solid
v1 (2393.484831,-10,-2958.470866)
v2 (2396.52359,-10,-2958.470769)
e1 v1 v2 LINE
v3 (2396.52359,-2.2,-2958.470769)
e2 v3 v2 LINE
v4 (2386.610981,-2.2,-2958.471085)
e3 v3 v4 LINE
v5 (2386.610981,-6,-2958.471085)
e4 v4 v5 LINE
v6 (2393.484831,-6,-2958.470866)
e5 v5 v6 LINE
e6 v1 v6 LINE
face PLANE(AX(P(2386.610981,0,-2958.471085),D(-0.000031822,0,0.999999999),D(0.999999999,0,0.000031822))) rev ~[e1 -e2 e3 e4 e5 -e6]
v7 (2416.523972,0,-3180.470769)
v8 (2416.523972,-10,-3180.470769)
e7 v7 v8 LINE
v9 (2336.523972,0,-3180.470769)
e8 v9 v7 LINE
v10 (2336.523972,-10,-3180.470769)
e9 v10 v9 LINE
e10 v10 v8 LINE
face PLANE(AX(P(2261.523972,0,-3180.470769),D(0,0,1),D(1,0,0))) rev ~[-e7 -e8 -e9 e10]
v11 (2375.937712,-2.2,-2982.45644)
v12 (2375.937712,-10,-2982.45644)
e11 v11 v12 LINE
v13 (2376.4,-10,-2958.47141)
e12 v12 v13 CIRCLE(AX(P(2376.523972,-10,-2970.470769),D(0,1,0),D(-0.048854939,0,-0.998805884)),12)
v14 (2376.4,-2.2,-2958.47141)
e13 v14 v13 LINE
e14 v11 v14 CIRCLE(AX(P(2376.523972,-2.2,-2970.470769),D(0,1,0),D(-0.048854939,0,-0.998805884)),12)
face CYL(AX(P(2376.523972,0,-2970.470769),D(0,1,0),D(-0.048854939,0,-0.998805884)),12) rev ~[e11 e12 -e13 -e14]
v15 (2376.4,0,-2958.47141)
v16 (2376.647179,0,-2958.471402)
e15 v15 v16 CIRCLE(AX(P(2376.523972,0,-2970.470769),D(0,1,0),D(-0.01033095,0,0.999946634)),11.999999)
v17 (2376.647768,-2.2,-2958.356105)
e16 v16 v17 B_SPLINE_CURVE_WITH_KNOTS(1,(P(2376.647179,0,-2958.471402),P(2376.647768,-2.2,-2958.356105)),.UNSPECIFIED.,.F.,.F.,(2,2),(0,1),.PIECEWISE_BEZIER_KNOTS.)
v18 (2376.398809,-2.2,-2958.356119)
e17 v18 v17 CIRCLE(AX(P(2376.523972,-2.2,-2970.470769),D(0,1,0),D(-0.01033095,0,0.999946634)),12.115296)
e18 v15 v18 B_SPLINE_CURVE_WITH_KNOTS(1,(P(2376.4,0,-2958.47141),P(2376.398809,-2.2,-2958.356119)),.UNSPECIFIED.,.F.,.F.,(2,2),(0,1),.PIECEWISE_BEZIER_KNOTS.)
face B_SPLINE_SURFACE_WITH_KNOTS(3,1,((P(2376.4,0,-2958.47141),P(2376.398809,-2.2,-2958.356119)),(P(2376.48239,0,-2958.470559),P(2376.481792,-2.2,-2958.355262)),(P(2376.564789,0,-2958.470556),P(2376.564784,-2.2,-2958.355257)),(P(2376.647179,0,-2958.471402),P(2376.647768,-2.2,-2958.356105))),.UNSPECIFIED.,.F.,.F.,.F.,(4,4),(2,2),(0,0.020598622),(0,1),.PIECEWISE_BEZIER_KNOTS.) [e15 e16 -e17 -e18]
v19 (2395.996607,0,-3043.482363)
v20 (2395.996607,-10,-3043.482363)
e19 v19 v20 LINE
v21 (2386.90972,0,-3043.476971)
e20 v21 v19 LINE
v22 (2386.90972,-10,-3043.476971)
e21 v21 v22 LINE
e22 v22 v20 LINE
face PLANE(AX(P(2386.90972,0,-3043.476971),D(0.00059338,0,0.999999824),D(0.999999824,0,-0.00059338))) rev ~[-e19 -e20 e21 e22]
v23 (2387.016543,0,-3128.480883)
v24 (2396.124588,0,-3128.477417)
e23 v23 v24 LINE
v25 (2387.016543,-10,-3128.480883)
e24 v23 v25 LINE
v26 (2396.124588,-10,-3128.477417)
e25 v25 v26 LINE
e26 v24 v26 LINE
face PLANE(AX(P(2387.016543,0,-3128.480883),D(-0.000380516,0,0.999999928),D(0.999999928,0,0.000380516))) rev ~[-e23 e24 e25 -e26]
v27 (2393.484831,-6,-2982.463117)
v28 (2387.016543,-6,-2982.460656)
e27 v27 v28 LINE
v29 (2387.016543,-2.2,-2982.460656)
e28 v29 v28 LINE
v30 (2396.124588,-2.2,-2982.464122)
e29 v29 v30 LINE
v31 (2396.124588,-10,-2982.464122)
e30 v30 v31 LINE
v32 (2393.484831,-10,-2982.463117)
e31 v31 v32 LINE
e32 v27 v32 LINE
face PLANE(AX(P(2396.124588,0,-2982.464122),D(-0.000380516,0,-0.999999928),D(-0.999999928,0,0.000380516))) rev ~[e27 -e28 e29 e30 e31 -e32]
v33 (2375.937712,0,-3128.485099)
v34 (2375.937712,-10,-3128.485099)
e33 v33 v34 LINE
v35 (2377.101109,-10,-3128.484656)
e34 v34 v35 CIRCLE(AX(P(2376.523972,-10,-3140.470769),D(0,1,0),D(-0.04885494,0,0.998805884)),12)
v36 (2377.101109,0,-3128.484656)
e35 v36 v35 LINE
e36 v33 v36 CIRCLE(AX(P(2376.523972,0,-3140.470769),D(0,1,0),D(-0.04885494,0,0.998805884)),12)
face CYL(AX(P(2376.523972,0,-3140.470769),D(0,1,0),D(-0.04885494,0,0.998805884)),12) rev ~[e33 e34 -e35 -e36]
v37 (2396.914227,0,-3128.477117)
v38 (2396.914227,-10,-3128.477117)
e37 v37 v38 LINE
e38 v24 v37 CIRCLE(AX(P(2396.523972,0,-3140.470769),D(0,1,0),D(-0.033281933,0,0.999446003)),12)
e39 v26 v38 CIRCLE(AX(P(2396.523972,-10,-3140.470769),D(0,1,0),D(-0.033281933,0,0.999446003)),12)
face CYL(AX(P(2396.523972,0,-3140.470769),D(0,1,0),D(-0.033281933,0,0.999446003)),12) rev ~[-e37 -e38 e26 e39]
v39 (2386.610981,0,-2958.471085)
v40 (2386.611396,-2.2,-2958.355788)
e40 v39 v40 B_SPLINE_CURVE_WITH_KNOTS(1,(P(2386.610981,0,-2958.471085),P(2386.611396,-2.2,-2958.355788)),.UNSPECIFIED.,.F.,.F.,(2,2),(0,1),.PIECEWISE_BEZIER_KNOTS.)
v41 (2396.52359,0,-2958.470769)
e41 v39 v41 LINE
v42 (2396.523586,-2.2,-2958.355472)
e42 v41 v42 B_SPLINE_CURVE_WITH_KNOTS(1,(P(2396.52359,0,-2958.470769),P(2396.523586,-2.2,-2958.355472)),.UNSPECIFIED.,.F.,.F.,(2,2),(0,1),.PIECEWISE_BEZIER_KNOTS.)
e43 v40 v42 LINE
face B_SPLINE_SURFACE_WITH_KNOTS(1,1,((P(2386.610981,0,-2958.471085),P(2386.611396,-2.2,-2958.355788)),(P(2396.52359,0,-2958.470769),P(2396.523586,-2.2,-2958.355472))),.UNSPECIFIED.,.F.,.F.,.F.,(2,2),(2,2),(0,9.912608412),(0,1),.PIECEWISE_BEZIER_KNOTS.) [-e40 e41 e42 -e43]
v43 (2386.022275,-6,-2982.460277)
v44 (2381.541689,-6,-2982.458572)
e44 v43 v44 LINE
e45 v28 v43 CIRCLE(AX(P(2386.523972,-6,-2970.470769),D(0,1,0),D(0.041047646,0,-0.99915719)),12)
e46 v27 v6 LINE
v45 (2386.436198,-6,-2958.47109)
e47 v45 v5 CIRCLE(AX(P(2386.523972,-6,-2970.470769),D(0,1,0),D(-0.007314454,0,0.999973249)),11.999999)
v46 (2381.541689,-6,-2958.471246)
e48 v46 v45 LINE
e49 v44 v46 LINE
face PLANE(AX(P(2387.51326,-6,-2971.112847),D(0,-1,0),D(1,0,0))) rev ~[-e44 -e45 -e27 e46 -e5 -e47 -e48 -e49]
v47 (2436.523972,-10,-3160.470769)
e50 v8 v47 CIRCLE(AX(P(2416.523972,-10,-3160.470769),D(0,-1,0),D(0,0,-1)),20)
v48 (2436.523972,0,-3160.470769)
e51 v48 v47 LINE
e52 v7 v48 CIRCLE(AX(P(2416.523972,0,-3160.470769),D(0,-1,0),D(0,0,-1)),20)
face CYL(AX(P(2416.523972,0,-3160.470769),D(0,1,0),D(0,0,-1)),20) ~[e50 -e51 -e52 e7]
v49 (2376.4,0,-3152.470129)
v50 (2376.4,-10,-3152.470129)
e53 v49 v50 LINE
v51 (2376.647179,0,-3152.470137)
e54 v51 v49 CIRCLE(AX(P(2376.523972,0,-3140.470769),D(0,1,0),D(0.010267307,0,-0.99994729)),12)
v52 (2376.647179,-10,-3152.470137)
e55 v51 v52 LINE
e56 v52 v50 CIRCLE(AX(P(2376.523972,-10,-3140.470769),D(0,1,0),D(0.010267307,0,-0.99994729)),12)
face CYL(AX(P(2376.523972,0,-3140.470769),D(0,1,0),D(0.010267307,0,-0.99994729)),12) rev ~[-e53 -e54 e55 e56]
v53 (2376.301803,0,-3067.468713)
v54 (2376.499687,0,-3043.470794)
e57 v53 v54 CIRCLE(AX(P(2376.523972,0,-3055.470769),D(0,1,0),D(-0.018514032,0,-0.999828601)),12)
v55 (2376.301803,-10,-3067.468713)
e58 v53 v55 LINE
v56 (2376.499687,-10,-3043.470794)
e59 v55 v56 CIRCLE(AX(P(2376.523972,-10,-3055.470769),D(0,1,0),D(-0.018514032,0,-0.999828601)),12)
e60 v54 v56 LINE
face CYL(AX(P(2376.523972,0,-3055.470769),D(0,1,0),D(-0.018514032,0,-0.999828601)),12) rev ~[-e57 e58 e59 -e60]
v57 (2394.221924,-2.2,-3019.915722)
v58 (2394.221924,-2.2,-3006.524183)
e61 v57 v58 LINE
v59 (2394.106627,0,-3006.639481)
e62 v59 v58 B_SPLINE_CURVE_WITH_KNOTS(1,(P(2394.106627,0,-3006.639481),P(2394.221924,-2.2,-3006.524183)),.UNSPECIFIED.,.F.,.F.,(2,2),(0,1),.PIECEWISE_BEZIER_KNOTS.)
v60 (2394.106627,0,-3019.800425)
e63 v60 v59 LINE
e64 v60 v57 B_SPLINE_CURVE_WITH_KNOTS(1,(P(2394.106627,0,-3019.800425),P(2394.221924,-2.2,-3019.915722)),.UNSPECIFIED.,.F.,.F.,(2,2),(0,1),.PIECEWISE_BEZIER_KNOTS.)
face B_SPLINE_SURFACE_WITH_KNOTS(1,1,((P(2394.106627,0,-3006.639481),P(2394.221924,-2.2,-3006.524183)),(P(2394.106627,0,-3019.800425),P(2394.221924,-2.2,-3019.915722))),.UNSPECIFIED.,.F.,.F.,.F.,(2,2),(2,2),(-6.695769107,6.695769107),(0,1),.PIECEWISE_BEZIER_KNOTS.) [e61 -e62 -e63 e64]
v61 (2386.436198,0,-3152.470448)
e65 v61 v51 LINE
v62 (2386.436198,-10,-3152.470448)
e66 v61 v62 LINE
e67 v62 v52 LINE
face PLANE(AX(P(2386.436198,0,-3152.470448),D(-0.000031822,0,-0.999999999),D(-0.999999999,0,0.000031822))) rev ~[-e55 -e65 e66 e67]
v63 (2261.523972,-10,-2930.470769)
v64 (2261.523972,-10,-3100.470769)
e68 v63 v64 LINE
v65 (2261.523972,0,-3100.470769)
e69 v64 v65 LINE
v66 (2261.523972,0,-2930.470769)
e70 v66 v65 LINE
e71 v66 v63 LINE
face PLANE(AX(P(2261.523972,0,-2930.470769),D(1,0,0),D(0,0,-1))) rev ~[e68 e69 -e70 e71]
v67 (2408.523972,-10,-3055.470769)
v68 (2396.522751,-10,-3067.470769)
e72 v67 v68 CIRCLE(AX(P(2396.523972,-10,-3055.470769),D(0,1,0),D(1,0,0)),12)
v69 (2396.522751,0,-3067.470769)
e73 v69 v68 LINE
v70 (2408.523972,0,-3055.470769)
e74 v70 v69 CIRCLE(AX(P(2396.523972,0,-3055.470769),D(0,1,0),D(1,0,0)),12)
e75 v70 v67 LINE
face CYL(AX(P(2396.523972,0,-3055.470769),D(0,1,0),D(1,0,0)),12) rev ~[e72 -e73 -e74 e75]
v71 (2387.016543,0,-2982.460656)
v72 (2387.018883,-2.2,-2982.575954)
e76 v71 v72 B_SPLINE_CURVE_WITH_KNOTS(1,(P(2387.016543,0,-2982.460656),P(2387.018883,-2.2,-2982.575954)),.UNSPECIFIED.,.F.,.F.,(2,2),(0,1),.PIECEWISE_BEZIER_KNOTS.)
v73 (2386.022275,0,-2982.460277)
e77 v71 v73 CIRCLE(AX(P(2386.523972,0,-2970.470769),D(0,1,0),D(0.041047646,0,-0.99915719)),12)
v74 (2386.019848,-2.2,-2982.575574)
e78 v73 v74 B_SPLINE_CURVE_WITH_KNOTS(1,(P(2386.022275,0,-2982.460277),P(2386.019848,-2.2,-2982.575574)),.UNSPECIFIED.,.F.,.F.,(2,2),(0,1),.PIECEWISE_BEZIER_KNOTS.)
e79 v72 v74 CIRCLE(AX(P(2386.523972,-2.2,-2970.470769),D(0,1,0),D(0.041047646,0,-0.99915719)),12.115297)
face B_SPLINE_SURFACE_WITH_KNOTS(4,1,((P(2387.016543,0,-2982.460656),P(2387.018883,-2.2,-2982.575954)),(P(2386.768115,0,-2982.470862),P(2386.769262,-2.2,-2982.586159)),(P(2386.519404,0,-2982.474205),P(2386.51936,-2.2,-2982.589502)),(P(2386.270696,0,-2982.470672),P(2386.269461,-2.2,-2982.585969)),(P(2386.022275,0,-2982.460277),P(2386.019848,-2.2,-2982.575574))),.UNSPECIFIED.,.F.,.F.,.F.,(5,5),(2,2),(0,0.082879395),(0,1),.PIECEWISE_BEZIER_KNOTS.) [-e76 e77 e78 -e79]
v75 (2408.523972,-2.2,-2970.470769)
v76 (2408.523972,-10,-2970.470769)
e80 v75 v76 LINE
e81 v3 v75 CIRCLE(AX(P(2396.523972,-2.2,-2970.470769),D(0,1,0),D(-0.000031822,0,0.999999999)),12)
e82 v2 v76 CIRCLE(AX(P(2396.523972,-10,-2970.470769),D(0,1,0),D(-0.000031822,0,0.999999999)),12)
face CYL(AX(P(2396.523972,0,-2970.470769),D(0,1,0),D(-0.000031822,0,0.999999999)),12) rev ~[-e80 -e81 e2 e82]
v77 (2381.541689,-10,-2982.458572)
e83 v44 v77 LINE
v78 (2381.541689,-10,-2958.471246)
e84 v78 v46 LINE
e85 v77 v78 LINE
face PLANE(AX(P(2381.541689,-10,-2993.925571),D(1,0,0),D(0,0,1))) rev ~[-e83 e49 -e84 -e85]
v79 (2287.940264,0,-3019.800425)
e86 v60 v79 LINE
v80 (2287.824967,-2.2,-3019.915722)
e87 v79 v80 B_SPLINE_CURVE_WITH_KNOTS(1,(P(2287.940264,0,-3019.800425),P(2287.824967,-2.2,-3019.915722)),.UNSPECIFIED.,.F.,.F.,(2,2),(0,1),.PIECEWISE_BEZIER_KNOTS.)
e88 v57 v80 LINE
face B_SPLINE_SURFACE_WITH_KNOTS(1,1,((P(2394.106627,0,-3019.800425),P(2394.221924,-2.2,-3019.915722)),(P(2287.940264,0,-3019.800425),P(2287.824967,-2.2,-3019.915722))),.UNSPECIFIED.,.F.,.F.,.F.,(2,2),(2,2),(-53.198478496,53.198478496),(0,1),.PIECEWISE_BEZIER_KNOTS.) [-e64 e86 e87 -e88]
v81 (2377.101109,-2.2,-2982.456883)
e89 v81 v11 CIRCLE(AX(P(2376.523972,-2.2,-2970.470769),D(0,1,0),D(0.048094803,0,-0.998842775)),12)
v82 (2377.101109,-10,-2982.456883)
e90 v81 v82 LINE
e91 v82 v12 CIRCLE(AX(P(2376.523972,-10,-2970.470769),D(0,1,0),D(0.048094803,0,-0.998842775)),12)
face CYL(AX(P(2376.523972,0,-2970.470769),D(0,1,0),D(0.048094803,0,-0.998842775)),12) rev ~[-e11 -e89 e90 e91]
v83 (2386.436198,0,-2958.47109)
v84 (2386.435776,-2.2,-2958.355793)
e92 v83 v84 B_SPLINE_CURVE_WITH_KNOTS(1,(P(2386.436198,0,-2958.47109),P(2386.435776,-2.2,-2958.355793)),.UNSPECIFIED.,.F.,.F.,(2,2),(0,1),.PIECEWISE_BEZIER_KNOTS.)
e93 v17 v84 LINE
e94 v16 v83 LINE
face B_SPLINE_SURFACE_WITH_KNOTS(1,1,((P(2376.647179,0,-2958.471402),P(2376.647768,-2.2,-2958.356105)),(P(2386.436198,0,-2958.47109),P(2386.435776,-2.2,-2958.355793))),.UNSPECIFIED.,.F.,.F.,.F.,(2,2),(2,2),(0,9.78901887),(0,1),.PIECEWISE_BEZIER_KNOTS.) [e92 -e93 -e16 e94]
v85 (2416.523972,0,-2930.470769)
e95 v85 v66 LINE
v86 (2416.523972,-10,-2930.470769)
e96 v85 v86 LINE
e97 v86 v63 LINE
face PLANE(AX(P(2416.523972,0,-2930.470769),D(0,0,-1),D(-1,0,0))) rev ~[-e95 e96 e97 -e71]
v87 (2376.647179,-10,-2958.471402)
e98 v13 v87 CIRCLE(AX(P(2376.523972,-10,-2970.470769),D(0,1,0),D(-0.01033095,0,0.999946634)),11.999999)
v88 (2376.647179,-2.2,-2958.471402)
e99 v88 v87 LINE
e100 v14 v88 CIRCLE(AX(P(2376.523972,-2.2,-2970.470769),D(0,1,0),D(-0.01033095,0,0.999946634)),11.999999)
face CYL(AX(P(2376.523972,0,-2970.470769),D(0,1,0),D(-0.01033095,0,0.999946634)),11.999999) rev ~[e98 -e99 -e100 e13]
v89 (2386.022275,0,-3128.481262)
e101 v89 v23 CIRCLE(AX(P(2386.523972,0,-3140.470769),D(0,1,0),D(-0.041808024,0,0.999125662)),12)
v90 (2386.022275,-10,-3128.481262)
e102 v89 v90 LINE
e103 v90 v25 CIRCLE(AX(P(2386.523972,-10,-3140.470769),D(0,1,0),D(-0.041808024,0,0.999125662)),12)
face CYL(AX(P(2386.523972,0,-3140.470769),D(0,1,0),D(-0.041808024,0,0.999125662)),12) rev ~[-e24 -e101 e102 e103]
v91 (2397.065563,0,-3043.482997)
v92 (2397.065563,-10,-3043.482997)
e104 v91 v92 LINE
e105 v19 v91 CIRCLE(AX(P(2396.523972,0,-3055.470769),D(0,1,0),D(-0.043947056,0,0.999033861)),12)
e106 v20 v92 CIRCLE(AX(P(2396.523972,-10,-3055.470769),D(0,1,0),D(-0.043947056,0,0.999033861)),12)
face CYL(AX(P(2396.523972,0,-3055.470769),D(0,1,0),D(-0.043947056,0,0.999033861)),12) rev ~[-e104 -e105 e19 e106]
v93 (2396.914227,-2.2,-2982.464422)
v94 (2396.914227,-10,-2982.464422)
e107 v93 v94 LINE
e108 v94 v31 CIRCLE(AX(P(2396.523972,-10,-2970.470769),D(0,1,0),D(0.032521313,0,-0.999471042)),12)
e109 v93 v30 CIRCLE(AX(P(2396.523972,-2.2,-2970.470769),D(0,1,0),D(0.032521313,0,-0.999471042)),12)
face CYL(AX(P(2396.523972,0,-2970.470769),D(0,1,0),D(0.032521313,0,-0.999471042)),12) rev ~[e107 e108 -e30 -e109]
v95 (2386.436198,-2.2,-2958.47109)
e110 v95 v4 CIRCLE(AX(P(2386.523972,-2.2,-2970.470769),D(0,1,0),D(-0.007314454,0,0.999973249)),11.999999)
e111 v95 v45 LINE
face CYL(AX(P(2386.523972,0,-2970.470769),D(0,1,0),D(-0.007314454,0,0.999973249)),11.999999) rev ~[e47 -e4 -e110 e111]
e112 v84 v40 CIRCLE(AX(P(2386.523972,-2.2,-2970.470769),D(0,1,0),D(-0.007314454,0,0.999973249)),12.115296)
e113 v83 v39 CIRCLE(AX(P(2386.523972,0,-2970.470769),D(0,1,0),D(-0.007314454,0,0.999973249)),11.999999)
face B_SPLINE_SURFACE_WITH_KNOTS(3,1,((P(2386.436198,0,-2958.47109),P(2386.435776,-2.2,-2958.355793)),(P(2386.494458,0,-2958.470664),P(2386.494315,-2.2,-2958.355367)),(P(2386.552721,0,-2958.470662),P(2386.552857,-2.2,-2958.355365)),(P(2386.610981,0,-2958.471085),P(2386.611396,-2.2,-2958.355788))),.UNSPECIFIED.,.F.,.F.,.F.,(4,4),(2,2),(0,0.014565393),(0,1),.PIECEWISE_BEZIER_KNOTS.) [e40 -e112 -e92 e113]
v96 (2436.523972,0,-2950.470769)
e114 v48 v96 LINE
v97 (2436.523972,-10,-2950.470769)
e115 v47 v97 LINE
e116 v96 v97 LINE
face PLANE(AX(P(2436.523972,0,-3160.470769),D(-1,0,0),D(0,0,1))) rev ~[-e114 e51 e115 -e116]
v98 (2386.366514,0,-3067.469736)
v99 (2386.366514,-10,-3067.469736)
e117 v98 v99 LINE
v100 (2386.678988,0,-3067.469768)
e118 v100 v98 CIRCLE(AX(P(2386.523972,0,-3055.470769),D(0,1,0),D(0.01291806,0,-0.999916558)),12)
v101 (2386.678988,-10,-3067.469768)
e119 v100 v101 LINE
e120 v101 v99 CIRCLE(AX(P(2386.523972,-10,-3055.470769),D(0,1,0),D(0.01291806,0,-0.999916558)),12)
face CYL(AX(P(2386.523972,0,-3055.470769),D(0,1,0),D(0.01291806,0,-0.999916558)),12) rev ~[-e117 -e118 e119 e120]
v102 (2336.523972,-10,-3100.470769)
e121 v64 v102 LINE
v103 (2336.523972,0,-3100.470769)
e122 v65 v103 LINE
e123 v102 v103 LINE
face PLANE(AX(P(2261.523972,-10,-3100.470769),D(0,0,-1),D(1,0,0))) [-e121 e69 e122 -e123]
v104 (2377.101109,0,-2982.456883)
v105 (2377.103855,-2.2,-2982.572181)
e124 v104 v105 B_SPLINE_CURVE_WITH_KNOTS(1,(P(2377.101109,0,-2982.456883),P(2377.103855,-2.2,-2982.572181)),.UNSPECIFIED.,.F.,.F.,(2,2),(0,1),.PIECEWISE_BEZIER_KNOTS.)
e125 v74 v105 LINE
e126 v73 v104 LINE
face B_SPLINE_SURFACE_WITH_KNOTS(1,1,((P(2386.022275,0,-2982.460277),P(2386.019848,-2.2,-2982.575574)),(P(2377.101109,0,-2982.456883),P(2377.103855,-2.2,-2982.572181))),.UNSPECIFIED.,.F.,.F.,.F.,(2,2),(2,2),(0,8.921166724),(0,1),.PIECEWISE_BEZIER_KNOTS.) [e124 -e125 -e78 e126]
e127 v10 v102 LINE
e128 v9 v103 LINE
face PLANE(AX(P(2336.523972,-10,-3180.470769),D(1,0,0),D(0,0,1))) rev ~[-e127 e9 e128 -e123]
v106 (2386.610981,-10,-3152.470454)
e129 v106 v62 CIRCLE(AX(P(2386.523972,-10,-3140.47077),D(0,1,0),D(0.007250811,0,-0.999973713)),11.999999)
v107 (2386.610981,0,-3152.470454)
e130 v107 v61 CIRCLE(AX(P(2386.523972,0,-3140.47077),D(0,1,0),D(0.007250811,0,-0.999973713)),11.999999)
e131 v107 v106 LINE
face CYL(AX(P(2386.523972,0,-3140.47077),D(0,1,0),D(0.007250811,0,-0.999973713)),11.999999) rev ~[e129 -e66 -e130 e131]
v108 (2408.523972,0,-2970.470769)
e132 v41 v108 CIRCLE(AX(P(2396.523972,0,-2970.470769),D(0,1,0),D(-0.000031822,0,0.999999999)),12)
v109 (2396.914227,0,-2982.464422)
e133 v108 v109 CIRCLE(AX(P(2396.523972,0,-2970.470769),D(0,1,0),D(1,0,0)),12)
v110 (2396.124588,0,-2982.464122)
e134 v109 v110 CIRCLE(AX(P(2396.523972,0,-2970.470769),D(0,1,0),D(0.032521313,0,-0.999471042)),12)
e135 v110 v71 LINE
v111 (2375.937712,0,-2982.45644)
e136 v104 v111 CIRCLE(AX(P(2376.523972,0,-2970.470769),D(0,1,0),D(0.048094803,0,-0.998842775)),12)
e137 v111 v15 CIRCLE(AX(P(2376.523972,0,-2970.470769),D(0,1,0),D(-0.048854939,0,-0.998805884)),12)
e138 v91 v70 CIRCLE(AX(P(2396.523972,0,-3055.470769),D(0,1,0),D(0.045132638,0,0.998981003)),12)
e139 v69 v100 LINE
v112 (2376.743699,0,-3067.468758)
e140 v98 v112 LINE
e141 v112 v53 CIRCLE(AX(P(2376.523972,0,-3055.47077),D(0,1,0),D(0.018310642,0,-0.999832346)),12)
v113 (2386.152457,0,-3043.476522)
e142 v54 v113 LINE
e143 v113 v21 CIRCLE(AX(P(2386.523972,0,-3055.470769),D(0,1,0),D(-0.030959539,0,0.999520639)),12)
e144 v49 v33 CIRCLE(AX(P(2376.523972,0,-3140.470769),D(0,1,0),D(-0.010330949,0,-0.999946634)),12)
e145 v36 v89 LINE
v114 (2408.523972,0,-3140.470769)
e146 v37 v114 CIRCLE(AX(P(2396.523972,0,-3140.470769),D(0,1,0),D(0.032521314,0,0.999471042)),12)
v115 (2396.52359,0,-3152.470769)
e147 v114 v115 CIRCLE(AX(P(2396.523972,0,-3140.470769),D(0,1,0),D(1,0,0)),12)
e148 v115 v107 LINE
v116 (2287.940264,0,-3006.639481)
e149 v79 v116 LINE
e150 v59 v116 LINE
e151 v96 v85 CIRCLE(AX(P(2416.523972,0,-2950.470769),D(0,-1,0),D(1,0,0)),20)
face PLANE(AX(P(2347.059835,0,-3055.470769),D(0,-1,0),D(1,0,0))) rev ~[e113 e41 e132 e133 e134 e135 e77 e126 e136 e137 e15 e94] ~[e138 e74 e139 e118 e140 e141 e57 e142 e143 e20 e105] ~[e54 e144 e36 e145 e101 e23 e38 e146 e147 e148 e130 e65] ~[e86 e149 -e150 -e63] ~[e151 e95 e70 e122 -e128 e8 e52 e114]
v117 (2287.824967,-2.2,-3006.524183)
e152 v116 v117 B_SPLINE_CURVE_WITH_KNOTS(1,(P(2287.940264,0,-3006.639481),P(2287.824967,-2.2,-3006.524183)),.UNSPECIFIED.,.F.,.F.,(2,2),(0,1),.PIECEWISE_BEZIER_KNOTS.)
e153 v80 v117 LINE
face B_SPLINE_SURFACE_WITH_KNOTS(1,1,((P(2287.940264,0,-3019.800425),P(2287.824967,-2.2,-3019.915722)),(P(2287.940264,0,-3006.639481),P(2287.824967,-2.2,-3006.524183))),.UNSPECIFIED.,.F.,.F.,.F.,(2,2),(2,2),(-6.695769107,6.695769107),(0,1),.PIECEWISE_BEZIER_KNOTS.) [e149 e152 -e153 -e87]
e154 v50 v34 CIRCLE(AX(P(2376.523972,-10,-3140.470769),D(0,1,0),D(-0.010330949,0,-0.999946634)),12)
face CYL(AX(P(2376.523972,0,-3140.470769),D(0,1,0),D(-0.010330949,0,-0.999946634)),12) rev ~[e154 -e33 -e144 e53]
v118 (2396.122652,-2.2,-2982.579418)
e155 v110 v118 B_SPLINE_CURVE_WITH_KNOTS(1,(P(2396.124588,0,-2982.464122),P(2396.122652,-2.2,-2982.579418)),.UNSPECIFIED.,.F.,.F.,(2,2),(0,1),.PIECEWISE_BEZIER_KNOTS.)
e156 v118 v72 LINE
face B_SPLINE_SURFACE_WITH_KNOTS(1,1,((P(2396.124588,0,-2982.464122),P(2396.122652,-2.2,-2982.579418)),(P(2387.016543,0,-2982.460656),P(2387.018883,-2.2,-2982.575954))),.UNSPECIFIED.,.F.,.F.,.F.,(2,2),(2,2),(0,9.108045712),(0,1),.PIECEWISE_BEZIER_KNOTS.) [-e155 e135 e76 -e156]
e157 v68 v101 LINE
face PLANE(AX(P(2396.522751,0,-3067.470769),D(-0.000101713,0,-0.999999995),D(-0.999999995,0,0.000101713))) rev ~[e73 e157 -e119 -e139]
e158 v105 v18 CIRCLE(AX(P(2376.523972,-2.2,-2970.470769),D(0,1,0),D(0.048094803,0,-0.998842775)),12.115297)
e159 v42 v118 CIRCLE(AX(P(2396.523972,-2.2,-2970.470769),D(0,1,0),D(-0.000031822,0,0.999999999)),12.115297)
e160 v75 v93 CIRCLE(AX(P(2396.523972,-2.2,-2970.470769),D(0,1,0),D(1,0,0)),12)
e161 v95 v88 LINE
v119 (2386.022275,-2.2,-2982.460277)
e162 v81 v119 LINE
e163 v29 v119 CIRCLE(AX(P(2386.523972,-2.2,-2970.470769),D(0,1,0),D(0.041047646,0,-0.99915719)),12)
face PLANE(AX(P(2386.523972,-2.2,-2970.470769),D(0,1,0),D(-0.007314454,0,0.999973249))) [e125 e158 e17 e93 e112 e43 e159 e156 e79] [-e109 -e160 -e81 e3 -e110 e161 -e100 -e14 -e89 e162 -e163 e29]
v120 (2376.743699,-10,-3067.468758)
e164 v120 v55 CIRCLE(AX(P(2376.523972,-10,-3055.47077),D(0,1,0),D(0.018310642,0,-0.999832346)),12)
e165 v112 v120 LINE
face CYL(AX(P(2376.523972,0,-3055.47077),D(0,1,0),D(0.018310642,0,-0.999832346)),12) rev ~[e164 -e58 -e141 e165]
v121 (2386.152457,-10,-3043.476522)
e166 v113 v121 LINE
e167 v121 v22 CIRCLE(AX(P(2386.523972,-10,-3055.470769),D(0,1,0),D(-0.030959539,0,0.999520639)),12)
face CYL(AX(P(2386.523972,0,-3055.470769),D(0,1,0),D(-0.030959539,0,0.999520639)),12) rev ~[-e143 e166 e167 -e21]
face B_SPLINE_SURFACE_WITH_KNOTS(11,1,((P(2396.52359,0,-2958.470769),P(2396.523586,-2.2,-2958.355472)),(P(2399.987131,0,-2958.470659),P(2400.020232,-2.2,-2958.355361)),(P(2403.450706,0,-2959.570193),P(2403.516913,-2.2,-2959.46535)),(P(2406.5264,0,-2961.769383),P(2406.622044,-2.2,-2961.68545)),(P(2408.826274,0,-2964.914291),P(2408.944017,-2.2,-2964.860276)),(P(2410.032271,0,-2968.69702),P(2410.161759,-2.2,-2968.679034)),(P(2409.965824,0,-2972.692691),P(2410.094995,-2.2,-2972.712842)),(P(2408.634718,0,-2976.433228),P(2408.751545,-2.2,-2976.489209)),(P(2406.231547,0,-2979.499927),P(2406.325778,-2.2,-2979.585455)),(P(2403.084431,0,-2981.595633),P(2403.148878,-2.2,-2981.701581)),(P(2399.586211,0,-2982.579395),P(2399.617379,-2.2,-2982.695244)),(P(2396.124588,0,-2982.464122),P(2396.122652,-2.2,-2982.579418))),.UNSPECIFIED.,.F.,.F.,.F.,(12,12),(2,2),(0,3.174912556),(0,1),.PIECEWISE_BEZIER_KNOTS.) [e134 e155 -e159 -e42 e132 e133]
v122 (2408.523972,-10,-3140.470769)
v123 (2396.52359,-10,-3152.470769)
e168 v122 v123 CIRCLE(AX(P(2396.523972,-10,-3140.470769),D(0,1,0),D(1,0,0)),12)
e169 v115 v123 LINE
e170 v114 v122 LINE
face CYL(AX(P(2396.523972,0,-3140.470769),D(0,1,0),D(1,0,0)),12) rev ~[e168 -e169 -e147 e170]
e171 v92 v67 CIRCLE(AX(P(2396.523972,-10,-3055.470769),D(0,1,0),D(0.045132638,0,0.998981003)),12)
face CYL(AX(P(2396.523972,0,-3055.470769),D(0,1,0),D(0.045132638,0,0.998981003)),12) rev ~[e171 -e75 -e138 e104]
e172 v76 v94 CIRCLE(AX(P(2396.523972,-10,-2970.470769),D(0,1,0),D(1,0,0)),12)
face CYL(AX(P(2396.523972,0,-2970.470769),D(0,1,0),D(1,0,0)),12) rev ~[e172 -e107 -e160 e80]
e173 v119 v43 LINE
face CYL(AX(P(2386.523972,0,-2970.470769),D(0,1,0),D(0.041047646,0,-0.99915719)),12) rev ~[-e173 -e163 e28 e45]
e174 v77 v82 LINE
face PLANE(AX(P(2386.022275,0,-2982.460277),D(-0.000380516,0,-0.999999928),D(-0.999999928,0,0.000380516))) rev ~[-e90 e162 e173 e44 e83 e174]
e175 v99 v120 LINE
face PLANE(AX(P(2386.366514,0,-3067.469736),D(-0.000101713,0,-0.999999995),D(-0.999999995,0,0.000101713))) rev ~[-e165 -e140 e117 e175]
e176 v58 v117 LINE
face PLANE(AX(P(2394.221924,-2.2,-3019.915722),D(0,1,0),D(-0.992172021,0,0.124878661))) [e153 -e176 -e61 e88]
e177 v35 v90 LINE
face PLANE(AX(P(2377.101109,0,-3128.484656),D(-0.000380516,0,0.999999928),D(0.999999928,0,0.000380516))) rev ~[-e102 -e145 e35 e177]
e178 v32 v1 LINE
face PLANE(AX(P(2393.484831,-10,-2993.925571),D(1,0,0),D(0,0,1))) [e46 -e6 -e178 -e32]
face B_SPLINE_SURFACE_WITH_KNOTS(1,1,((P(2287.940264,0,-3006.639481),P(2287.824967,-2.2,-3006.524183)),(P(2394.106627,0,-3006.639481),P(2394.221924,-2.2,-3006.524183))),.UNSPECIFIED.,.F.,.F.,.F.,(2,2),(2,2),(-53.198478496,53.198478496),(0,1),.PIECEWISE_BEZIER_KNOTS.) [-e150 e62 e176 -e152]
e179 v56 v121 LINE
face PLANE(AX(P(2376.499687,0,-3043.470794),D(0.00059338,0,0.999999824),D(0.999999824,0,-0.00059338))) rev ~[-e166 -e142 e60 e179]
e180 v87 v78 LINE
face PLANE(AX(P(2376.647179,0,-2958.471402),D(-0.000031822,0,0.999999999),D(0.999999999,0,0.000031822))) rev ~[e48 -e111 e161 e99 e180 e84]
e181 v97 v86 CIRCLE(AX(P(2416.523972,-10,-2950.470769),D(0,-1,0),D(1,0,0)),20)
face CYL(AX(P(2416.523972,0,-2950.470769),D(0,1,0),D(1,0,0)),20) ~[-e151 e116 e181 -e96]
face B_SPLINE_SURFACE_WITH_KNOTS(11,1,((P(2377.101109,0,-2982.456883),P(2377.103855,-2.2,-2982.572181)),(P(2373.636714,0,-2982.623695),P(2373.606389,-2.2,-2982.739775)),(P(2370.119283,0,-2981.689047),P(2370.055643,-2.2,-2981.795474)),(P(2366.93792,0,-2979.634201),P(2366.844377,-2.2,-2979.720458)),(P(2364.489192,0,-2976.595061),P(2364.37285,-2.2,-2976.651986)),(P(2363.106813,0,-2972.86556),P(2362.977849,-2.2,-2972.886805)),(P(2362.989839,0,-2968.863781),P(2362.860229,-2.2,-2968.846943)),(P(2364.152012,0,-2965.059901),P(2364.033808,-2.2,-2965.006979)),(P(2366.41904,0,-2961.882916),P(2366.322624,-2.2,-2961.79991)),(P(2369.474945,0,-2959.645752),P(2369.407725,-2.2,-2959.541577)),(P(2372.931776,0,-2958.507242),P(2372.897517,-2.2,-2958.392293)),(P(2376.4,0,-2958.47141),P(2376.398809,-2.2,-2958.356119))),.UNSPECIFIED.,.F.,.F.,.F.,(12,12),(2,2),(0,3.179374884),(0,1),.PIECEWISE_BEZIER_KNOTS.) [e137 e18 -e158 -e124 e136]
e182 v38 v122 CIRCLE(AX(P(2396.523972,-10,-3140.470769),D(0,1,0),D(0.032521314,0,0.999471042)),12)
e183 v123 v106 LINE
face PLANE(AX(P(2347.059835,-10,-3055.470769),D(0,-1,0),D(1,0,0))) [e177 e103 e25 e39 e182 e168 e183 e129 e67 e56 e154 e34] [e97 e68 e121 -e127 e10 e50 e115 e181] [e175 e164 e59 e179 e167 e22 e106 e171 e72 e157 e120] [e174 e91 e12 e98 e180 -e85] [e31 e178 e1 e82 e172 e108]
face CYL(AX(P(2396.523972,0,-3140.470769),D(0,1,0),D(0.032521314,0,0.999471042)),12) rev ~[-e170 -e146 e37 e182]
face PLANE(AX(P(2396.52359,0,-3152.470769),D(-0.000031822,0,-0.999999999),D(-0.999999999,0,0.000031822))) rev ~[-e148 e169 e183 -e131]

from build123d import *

# Parameters (mm, degrees)
F1_DEPTH = 10
F2_W     = 75
F2_H     = 80
F3_DEPTH = 25
F4_W     = 11.9431421733
F4_H     = 45.6254482269
F5_DEPTH = 4
F6_W     = 106.1663627625
F6_H     = 13.160943985
F7_DEPTH = 2.2
F7_TAPER = -3


with BuildPart() as f1:
    # F0 (on Front) → F1 (new body)
    with BuildSketch(Plane.XZ):
        with BuildLine():
            Line((2416.5239715576, -2930.4707694799), (2261.5239715576, -2930.4707694799))
            Line((2261.5239715576, -2930.4707694799), (2261.5239715576, -3180.4707694799))
            Line((2261.5239715576, -3180.4707694799), (2416.5239715576, -3180.4707694799))
            ThreePointArc((2416.5239715576, -3180.4707694799), (2430.6661071813, -3174.6129051036), (2436.5239715576, -3160.4707694799))
            Line((2436.5239715576, -3160.4707694799), (2436.5239715576, -2950.4707694799))
            ThreePointArc((2436.5239715576, -2950.4707694799), (2430.6661071813, -2936.3286338561), (2416.5239715576, -2930.4707694799))
        make_face()
        with BuildLine():
            ThreePointArc((2386.0222752693, -3128.4812615319), (2386.5194053701, -3128.4707703486), (2387.0165433111, -3128.4808831974))
            Line((2387.0165433111, -3128.4808831974), (2396.1245883641, -3128.4774174437))
            ThreePointArc((2396.1245883641, -3128.4774174437), (2396.5194053701, -3128.4707703486), (2396.9142273205, -3128.4771169737))
            ThreePointArc((2396.9142273205, -3128.4771169737), (2405.1461252664, -3132.1246047665), (2408.5239715576, -3140.4707694799))
            ThreePointArc((2408.5239715576, -3140.4707694799), (2405.0091179195, -3148.9561858643), (2396.5235896881, -3152.4707694738))
            Line((2396.5235896881, -3152.4707694738), (2386.6109812809, -3152.4704540302))
            ThreePointArc((2386.6109812809, -3152.4704540302), (2386.5235896881, -3152.4707694738), (2386.4361981155, -3152.4704484682))
            Line((2386.4361981155, -3152.4704484682), (2376.6471792504, -3152.4701369576))
            ThreePointArc((2376.6471792504, -3152.4701369576), (2376.5235896881, -3152.4707694738), (2376.4000001663, -3152.4701290917))
            ThreePointArc((2376.4000001663, -3152.4701290917), (2364.5261998632, -3140.7020147361), (2375.9377122847, -3128.485098866))
            ThreePointArc((2375.9377122847, -3128.485098866), (2376.5194053701, -3128.4707703486), (2377.1011091915, -3128.4846561752))
            Line((2377.1011091915, -3128.4846561752), (2386.0222752693, -3128.4812615319))
        make_face(mode=Mode.SUBTRACT)
        with BuildLine():
            ThreePointArc((2386.1524570887, -3043.476521817), (2386.5310921212, -3043.4707715925), (2386.9097200631, -3043.476971162))
            Line((2386.9097200631, -3043.476971162), (2395.9966068909, -3043.4823631426))
            ThreePointArc((2395.9966068909, -3043.4823631426), (2396.5310921212, -3043.4707715925), (2397.0655632188, -3043.4829974403))
            ThreePointArc((2397.0655632188, -3043.4829974403), (2405.1986214046, -3047.179180366), (2408.5239715576, -3055.4707694799))
            ThreePointArc((2408.5239715576, -3055.4707694799), (2405.0088213897, -3063.9564823743), (2396.5227510032, -3067.4707694178))
            Line((2396.5227510032, -3067.4707694178), (2386.678988276, -3067.4697681805))
            ThreePointArc((2386.678988276, -3067.4697681805), (2386.5227510032, -3067.4707694178), (2386.3665139374, -3067.4697363978))
            Line((2386.3665139374, -3067.4697363978), (2376.7436992517, -3067.4687576337))
            ThreePointArc((2376.7436992517, -3067.4687576337), (2376.5227510032, -3067.4707694178), (2376.3018031686, -3067.4687126872))
            ThreePointArc((2376.3018031686, -3067.4687126872), (2364.5243795036, -3055.3718223336), (2376.4996870262, -3043.4707940523))
            Line((2376.4996870262, -3043.4707940523), (2386.1524570887, -3043.476521817))
        make_face(mode=Mode.SUBTRACT)
        with BuildLine():
            ThreePointArc((2386.4361981157, -2958.4710904915), (2386.5235896881, -2958.4707694859), (2386.6109812808, -2958.4710849295))
            Line((2386.6109812808, -2958.4710849295), (2396.5235896881, -2958.4707694859))
            ThreePointArc((2396.5235896881, -2958.4707694859), (2405.0091179195, -2961.9853530954), (2408.5239715576, -2970.4707694799))
            ThreePointArc((2408.5239715576, -2970.4707694799), (2405.1461252664, -2978.8169341932), (2396.9142273205, -2982.4644219861))
            ThreePointArc((2396.9142273205, -2982.4644219861), (2396.5194053701, -2982.4707686111), (2396.1245883641, -2982.4641215161))
            Line((2396.1245883641, -2982.4641215161), (2387.0165433111, -2982.4606557624))
            ThreePointArc((2387.0165433111, -2982.4606557624), (2386.5194053701, -2982.4707686111), (2386.0222752693, -2982.4602774278))
            Line((2386.0222752693, -2982.4602774278), (2377.1011091916, -2982.4568827845))
            ThreePointArc((2377.1011091916, -2982.4568827845), (2376.5194053701, -2982.4707686111), (2375.9377122847, -2982.4564400938))
            ThreePointArc((2375.9377122847, -2982.4564400938), (2364.5261998632, -2970.2395242236), (2376.4000001663, -2958.471409868))
            ThreePointArc((2376.4000001663, -2958.471409868), (2376.523589688, -2958.4707694859), (2376.6471792503, -2958.4714020022))
            Line((2376.6471792503, -2958.4714020022), (2386.4361981157, -2958.4710904915))
        make_face(mode=Mode.SUBTRACT)
    extrude(amount=F1_DEPTH)

    # F2 (on face) → F3 (cut)
    with BuildSketch(Plane.XZ.offset(10)):
        with Locations((2299.0239715576, -3140.4707694799)):
            Rectangle(F2_W, F2_H)
    extrude(amount=-F3_DEPTH, mode=Mode.SUBTRACT)

    # F4 (on face) → F5 (join)
    with BuildSketch(Plane.XZ.offset(10)):
        with Locations((2387.5132597697, -2971.1128473282)):
            Rectangle(F4_W, F4_H)
    extrude(amount=-F5_DEPTH)

    # F6 (on face) → F7 (cut)
    with BuildSketch(Plane(origin=(0, 0, 0), x_dir=(-1, 0, 0), z_dir=(0, 1, 0))):
        with Locations((-2341.0234451294, -3013.2199525833)):
            Rectangle(F6_W, F6_H)
        with BuildLine():
            ThreePointArc((-2386.4361981157, -2958.4710904915), (-2386.5235896881, -2958.4707694859), (-2386.6109812808, -2958.4710849295))
            Line((-2386.6109812808, -2958.4710849295), (-2396.5235896881, -2958.4707694859))
            ThreePointArc((-2396.5235896881, -2958.4707694859), (-2408.5223126278, -2970.6702978312), (-2396.1245883641, -2982.4641215161))
            Line((-2396.1245883641, -2982.4641215161), (-2387.0165433111, -2982.4606557624))
            ThreePointArc((-2387.0165433111, -2982.4606557624), (-2386.5194053701, -2982.4707686111), (-2386.0222752693, -2982.4602774278))
            Line((-2386.0222752693, -2982.4602774278), (-2377.1011091916, -2982.4568827845))
            ThreePointArc((-2377.1011091916, -2982.4568827845), (-2364.5290948318, -2970.8213865538), (-2376.4000001663, -2958.4714098681))
            ThreePointArc((-2376.4000001663, -2958.471409868), (-2376.523589688, -2958.4707694859), (-2376.6471792503, -2958.4714020022))
            Line((-2376.6471792503, -2958.4714020022), (-2386.4361981157, -2958.4710904915))
        make_face()
    extrude(amount=-F7_DEPTH, taper=F7_TAPER, mode=Mode.SUBTRACT)


solid = f1.part
